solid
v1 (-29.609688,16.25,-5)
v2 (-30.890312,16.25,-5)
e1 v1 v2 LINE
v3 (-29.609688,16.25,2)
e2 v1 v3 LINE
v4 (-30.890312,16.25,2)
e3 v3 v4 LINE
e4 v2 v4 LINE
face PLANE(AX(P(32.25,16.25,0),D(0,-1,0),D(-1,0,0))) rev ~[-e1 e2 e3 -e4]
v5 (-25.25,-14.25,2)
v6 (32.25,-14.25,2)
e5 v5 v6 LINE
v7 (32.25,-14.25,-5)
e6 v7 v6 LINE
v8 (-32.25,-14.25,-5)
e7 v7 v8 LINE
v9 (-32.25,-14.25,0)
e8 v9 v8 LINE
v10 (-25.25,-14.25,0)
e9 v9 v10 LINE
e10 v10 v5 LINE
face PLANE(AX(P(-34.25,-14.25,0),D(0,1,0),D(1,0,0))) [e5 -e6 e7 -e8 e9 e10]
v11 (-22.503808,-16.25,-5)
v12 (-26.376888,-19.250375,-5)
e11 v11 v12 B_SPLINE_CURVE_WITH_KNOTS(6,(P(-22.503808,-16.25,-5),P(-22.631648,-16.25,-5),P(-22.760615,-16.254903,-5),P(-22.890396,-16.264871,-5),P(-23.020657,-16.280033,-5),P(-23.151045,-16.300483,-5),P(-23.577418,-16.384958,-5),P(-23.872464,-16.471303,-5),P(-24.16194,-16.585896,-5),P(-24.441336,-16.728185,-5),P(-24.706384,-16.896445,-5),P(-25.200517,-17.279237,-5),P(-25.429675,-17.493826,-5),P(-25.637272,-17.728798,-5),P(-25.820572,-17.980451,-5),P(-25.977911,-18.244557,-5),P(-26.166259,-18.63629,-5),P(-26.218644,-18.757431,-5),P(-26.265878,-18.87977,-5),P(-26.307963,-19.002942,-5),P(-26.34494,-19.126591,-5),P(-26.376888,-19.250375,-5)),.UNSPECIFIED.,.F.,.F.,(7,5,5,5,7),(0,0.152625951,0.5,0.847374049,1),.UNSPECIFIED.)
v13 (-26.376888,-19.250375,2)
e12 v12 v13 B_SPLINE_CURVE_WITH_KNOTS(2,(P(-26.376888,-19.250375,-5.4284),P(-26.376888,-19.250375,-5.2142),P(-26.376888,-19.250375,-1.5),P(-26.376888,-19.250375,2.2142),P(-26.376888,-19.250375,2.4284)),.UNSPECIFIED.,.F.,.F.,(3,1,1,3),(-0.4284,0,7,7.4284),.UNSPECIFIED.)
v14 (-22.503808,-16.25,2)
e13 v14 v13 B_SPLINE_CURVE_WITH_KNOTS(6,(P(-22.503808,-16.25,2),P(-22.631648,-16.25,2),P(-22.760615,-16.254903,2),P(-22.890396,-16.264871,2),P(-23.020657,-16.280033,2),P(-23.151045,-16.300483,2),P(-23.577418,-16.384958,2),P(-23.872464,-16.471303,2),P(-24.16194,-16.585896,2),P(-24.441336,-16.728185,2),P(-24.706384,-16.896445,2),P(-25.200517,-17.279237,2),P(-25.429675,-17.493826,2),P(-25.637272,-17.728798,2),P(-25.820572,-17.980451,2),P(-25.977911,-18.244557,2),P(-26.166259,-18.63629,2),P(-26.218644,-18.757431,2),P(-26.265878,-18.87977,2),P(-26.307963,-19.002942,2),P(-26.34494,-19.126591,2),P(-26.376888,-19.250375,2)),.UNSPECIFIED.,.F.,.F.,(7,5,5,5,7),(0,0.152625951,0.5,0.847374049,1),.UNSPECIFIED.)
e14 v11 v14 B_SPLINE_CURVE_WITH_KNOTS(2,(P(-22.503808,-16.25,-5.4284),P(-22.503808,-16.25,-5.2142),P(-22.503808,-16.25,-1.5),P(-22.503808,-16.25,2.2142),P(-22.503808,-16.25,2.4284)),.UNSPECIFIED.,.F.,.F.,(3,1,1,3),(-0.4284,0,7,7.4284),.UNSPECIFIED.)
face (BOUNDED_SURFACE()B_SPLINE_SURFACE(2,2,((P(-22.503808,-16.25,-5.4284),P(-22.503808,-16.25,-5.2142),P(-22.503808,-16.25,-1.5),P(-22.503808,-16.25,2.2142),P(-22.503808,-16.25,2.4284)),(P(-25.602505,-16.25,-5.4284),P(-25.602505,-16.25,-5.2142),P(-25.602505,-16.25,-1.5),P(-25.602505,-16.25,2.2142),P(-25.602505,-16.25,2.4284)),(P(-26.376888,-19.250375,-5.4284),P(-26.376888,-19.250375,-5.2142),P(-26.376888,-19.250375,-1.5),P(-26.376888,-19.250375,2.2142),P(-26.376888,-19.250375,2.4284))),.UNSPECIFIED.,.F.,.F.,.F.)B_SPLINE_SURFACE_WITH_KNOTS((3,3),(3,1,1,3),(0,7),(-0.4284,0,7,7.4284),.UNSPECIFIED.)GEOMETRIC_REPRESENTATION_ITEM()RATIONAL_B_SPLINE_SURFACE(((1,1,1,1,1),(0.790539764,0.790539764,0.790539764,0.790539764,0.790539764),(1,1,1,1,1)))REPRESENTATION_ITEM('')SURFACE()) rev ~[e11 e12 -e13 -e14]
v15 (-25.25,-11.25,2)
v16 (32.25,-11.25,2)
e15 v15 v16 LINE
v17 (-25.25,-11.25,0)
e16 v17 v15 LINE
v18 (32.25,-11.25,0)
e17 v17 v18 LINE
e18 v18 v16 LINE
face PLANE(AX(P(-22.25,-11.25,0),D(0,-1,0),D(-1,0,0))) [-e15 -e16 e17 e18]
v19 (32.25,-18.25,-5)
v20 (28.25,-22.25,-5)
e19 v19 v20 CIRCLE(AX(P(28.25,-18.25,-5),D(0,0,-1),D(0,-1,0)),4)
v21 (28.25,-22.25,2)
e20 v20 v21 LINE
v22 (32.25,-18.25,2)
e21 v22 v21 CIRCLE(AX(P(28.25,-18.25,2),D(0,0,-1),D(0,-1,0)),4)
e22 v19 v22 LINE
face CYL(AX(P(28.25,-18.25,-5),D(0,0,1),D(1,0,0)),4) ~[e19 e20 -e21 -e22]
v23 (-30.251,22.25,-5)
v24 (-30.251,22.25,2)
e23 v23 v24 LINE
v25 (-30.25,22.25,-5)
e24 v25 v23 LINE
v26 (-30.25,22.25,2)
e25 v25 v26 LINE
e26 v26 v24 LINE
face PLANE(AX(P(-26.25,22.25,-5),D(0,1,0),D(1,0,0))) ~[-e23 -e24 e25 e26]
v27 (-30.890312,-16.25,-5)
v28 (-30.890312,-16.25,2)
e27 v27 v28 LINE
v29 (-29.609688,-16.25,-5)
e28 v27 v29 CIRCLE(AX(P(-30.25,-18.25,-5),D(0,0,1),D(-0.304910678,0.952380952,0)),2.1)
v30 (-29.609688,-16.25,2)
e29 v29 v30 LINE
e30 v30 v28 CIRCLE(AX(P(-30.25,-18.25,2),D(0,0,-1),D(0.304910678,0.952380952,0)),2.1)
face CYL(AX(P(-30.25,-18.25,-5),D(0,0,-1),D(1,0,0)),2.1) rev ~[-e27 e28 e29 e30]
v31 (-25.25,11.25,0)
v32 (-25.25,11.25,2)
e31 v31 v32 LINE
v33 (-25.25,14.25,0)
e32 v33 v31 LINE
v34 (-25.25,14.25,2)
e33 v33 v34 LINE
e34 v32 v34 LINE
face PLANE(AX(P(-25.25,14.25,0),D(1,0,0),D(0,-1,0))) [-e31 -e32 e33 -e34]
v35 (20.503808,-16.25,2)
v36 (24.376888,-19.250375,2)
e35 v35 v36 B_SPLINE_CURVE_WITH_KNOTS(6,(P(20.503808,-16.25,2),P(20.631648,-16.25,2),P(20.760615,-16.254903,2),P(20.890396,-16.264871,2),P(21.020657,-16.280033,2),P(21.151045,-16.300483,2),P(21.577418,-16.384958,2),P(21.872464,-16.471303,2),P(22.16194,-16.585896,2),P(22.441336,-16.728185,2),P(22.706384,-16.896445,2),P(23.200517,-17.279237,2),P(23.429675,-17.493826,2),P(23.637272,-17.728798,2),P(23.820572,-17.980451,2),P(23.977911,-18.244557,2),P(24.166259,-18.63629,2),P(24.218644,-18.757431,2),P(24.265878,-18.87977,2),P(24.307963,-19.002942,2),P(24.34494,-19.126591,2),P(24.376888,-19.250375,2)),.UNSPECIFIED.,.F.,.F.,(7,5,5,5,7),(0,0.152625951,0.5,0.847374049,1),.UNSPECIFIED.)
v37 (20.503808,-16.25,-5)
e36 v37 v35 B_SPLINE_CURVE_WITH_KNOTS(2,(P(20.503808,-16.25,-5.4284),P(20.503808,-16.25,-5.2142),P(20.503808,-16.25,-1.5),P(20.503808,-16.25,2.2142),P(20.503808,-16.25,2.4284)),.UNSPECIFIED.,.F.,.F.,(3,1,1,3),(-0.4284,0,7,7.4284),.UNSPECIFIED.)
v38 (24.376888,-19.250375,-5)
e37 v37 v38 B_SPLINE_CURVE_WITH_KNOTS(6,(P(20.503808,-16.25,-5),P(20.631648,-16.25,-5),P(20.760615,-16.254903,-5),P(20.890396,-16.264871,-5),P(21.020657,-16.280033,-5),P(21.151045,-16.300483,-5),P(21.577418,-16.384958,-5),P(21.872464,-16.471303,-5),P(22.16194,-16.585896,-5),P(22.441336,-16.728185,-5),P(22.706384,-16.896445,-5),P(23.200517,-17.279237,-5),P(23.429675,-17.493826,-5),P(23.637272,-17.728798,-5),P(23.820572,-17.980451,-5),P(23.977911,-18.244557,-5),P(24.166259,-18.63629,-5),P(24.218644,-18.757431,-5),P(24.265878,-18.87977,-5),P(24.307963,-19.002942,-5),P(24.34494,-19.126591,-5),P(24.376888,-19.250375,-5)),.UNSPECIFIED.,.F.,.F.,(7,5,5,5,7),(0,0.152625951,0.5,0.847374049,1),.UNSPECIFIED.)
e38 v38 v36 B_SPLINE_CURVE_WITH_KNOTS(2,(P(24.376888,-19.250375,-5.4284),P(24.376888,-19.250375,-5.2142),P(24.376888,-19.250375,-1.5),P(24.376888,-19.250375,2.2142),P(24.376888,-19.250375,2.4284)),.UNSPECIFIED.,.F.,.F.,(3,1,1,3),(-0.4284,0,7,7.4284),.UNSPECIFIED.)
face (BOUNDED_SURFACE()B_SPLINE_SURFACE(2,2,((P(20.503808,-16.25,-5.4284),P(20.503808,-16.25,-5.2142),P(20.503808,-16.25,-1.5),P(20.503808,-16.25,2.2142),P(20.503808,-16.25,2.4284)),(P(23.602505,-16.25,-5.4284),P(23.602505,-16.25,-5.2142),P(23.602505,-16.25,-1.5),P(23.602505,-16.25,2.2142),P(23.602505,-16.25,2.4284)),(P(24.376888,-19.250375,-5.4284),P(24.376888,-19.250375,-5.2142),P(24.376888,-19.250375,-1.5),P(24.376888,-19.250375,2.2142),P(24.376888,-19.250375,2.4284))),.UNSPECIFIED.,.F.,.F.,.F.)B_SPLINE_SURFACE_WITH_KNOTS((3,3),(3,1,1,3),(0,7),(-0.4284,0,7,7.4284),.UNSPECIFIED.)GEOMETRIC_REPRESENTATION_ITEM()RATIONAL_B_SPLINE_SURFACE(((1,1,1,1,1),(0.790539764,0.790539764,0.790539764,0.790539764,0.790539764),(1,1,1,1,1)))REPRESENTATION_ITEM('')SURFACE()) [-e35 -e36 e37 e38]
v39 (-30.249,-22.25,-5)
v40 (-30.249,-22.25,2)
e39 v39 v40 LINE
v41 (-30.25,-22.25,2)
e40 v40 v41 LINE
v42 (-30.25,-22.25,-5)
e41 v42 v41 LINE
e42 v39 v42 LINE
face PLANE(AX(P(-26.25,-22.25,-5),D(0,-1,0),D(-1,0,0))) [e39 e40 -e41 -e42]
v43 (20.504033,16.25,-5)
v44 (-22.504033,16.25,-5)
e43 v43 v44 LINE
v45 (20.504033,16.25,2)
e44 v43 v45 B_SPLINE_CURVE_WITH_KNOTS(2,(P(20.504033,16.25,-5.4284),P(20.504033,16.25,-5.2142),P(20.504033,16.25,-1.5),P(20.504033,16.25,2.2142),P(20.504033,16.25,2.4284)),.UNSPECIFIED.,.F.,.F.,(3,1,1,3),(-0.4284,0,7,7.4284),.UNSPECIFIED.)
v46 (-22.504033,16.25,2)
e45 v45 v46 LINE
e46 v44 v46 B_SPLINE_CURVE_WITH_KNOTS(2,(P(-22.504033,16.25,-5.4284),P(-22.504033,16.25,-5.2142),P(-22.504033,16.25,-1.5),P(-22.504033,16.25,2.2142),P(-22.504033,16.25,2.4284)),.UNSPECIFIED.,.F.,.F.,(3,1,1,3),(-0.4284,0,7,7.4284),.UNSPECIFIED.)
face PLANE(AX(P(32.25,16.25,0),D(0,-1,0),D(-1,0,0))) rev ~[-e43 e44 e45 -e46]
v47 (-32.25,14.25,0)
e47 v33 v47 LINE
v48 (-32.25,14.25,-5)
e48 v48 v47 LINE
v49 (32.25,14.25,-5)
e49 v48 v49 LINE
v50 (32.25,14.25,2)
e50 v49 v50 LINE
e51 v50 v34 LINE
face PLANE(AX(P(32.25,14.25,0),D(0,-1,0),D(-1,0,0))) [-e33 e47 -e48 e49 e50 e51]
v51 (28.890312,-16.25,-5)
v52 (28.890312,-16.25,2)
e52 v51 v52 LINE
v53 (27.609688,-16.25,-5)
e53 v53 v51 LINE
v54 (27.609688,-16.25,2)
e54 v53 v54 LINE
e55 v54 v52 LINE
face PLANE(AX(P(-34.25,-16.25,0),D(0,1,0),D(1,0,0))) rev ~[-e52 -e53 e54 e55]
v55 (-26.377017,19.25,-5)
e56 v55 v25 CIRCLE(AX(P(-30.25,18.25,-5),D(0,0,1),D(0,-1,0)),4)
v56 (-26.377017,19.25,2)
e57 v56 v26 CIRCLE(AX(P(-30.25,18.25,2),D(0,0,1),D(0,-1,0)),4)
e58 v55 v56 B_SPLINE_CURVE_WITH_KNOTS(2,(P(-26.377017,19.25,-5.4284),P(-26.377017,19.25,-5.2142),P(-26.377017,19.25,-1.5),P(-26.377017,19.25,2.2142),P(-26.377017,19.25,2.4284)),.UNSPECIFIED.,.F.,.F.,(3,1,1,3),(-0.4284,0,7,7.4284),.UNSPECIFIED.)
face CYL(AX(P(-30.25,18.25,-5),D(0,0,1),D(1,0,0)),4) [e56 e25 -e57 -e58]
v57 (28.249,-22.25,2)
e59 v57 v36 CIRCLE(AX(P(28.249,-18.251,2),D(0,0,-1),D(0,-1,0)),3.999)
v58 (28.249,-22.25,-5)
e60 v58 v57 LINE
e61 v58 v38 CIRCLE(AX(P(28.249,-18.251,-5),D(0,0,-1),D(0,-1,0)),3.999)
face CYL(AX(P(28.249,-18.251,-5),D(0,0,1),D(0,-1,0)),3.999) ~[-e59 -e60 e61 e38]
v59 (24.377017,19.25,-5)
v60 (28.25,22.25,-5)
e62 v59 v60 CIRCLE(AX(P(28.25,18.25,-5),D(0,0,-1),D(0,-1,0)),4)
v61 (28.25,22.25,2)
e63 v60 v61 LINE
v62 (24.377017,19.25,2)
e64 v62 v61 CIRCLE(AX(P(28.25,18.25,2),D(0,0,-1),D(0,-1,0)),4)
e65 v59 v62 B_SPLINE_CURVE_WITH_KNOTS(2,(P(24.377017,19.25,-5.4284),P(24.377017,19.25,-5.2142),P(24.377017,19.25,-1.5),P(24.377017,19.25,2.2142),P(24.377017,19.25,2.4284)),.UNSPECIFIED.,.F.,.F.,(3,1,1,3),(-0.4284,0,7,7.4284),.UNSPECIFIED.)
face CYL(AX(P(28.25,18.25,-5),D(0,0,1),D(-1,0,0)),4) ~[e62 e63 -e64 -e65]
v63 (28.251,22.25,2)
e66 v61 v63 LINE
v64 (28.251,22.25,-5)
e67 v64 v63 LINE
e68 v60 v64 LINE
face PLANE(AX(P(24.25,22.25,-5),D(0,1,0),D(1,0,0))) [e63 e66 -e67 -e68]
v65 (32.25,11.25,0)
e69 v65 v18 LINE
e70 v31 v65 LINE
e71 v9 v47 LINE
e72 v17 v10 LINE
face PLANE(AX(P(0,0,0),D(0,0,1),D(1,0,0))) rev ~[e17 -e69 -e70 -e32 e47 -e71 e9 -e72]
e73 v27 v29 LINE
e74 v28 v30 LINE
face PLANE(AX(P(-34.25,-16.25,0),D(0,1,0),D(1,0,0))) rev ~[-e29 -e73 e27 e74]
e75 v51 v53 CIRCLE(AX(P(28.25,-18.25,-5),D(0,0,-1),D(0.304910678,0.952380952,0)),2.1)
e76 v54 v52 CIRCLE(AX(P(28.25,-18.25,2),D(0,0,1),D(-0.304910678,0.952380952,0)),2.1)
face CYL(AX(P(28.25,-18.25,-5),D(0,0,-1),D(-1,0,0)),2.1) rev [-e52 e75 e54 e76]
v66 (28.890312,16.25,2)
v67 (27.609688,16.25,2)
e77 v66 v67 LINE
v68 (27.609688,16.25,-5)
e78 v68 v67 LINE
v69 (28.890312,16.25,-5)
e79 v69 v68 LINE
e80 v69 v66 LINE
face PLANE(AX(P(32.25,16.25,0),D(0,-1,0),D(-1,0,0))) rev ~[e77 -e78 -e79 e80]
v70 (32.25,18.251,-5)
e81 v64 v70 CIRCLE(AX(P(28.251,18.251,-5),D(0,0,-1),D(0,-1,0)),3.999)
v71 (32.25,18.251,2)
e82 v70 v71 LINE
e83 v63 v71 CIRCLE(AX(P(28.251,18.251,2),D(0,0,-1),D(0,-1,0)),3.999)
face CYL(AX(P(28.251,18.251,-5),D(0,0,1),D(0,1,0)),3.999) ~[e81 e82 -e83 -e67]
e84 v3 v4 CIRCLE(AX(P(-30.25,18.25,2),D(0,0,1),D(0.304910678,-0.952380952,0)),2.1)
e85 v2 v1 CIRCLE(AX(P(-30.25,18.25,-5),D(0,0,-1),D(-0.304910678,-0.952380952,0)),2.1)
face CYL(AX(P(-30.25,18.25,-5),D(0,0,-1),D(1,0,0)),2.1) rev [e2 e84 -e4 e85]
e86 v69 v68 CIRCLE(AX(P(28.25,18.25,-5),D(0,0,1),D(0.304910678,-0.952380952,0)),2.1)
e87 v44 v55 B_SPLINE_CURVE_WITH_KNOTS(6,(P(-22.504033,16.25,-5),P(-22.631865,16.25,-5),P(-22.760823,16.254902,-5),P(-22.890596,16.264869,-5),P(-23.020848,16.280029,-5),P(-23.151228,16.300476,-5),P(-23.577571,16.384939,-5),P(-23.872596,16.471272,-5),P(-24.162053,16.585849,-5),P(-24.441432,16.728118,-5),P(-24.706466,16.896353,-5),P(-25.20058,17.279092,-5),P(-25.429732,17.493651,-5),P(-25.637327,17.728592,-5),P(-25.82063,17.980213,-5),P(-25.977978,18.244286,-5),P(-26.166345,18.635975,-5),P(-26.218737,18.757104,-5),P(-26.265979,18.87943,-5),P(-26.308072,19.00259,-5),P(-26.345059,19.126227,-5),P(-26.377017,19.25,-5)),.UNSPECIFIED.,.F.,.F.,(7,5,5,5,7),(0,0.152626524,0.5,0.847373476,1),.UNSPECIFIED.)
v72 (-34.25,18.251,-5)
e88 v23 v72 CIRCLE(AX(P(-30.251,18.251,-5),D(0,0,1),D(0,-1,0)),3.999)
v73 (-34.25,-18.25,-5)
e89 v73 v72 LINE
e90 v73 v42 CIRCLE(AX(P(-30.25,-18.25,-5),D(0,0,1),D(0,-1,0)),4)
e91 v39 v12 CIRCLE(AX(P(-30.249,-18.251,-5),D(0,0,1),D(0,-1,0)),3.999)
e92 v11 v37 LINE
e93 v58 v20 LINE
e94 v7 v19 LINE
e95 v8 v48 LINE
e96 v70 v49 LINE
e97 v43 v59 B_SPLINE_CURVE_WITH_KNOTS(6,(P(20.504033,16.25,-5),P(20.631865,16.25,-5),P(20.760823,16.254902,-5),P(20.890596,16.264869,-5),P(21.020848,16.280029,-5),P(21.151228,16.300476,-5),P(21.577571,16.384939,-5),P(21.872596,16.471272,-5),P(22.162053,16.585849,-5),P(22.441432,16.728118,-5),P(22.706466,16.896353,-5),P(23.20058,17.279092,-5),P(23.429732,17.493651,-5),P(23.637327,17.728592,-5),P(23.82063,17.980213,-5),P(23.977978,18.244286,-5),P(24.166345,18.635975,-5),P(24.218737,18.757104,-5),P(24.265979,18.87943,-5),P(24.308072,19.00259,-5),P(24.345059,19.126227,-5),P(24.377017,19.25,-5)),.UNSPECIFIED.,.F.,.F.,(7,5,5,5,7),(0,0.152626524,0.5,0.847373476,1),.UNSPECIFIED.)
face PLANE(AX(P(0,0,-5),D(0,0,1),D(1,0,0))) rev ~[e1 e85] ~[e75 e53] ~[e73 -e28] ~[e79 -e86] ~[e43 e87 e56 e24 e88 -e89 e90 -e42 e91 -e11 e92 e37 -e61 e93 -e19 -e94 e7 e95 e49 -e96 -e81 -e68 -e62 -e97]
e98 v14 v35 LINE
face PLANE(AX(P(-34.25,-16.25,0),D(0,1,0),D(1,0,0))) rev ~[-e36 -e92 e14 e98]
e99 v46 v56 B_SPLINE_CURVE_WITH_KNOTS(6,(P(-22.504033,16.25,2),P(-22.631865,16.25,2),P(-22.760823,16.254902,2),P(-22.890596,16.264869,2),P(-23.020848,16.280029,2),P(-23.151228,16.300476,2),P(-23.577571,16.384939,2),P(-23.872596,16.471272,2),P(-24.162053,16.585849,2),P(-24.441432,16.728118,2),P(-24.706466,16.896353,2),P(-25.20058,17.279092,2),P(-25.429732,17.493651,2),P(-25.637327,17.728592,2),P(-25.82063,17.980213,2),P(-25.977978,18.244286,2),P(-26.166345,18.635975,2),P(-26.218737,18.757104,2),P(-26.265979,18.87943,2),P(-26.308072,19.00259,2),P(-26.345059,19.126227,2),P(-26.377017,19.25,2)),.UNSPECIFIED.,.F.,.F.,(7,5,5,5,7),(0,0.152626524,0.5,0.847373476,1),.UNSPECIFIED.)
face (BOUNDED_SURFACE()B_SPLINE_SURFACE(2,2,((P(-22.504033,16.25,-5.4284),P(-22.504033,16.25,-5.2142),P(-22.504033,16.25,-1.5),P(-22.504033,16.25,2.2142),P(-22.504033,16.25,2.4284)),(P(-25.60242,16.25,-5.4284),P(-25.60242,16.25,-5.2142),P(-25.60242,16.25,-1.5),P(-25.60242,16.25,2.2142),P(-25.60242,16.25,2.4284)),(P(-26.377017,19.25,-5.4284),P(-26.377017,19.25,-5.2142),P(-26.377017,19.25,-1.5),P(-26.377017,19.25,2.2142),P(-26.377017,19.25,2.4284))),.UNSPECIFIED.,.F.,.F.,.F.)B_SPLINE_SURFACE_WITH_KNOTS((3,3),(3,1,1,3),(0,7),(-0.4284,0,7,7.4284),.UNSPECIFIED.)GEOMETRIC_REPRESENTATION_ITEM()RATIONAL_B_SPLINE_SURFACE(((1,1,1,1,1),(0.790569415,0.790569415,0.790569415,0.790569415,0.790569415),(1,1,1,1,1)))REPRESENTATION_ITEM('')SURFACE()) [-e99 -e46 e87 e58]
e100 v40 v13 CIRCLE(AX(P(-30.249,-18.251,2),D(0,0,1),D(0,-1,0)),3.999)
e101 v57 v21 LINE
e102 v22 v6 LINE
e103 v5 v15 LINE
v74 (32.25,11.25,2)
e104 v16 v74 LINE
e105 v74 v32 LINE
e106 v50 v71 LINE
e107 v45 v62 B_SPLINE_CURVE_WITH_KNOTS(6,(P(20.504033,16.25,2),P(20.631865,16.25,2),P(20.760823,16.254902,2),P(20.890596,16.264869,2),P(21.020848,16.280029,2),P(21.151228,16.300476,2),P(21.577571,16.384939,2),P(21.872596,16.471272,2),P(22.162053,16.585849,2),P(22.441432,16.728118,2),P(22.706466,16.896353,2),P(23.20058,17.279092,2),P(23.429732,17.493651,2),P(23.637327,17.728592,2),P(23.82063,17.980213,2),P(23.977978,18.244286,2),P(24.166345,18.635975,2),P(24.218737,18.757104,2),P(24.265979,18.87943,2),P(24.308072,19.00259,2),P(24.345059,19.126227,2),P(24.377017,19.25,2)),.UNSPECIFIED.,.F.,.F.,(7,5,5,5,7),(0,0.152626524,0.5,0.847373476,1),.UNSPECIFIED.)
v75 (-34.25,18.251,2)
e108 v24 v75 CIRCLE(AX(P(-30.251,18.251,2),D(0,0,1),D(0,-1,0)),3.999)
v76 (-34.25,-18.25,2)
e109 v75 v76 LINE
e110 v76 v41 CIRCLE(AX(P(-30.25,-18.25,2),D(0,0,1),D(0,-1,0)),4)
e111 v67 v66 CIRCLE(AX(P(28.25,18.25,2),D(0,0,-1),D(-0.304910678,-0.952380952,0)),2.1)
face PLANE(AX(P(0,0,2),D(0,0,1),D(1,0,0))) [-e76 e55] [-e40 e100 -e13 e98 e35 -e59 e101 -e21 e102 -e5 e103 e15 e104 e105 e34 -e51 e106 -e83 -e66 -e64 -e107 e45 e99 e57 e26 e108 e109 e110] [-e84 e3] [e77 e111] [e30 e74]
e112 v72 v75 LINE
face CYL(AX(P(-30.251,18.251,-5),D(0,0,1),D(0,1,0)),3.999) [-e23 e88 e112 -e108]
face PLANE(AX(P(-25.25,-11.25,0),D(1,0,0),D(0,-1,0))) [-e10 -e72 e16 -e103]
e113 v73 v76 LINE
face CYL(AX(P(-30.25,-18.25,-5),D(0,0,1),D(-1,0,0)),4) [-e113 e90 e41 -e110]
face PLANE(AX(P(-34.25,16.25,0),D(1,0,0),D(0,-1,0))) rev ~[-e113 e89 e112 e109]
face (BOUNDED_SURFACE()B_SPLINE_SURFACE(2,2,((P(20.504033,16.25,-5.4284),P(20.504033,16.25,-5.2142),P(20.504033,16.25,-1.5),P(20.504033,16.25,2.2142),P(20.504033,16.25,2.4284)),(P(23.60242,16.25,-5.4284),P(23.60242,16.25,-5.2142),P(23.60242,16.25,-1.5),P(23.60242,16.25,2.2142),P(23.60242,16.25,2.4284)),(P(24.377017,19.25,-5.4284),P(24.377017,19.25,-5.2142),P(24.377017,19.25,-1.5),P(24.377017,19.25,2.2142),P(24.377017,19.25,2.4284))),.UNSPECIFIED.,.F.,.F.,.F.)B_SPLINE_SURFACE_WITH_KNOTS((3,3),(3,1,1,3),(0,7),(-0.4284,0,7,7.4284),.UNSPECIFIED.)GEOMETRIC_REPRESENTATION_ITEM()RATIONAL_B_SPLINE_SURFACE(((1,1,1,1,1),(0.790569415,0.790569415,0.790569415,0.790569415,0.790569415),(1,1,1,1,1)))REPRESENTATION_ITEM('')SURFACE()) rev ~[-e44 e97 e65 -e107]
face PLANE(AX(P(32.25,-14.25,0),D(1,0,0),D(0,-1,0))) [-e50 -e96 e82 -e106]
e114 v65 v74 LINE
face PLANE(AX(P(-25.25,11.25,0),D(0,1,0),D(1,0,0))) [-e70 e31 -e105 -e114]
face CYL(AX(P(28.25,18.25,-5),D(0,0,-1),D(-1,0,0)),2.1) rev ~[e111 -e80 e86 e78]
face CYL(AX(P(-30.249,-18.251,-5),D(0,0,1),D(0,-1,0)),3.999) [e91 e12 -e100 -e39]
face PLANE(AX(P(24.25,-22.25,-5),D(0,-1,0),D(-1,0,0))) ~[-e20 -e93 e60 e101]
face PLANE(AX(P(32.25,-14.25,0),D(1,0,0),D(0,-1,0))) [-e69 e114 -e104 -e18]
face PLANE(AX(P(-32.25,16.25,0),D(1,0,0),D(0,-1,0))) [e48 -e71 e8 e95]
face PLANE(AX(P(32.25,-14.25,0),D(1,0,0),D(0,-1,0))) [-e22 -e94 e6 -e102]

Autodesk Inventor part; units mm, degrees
ref_plane "YZ Plane" through (0, 0, 0) normal (1, 0, 0) x (0, 1, 0)
ref_plane "XZ Plane" through (0, 0, 0) normal (0, 1, 0) x (-1, 0, 0)
ref_plane "XY Plane" through (0, 0, 0) normal (0, 0, 1) x (1, 0, 0)
sketch "Boceto1" plane through (0, 0, 0) normal (0, 0, 1) x (1, 0, 0)
  line L0 (-32.25, -14.25) -> (-32.25, 14.25) projected
  line L1 (-32.25, 14.25) -> (32.25, 14.25) projected
  line L2 (32.25, 14.25) -> (32.25, -14.25) projected
  line L3 (32.25, -14.25) -> (-32.25, -14.25) projected
  line L4 (34.25, 16.25) -> (-34.25, 16.25)
  line L5 (-34.25, 16.25) -> (-34.25, -16.25)
  line L6 (-34.25, -16.25) -> (34.25, -16.25)
  line L7 (34.25, -16.25) -> (34.25, 16.25)
  line L8 (32.25, -14.25) -> (32.25, -16.25)
  line L9 (32.25, 14.25) -> (32.25, 16.25)
  point P0 (0, 0)
  dimension "d0" = 2
extrude "Extrusión1" add sketch "Boceto1" along normal blind 2 and the other way blind 5 contours L3 L8 L6 L5 L4 L9 L1 L0 | L0 L1 L2 L3
shell "Vaciado1" thickness 2 removed faces 2 at (32.25, 5.4167, -0.3333) at (-12.0833, 5.4167, -5)
sketch "Boceto2" plane through (0, 0, -5) normal (0, 0, -1) x (-1, 0, 0)
  line L0 (-32.25, 14.25) -> (32.25, 14.25) projected
  line L1 (32.25, 14.25) -> (32.25, -14.25) projected
  line L2 (32.25, -14.25) -> (-32.25, -14.25) projected
  line L3 (-32.25, -14.25) -> (-32.25, -16.25) projected
  line L4 (-32.25, -16.25) -> (34.25, -16.25) projected
  line L5 (34.25, -16.25) -> (34.25, 16.25) projected
  line L6 (34.25, 16.25) -> (-32.25, 16.25) projected
  line L7 (-32.25, 16.25) -> (-32.25, 14.25) projected
  line L8 (-32.25, 16.25) -> (-24.25, 16.25)
  line L9 (-24.25, 16.25) -> (-24.25, 22.25)
  line L10 (-24.25, 22.25) -> (-32.25, 22.25)
  line L11 (-32.25, 22.25) -> (-32.25, 16.25)
  line L12 (-24.25, 22.25) -> (-32.25, 14.25)
  circle A0 centre (-28.25, 18.25) radius 2.1
  point P0 (0, 0)
  point P1 (-30.25, 16.25)
  point P2 (-29.7349, 16.7651)
  point P3 (-27.6097, 16.25)
  point P4 (-28.8903, 16.25)
  dimension "d6" = 8
  dimension "d7" = 6
  dimension "d8" = 4.2
extrude "Extrusión2" add sketch "Boceto2" against normal up to surface (7 mm away) contours L11 L10 L12 A0 L6 | L12 A0 L6 | L9 L6 A0 L12 picked at (-29.8223, 16.5215)
mirror "Simetría1" about plane through (0, 0, 0) normal (0, 1, 0) of "Extrusión2"
ref_plane "Plano de trabajo1" through (-1, -14.25, 0) normal (1, 0, 0) x (0, 0, -1)
mirror "Simetría2" about plane through (-1, -14.25, 0) normal (1, 0, 0) of "Extrusión2", "Simetría1"
fillet "Empalme1" radius 4 12 edges at (-26.25, 22.25, -1.5) (-34.25, 22.25, -1.5) (-34.25, -22.25, -1.5) (-26.25, -22.25, -1.5) (24.25, 22.25, -1.5) (32.25, 22.25, -1.5) (32.25, -22.25, -1.5) (24.25, -22.25, -1.5) (-26.25, 16.25, -1.5) (24.25, 16.25, -1.5) (24.25, -16.25, -1.5) (-26.25, -16.25, -1.5)
sketch "Boceto3" plane through (32.25, -14.25, 0) normal (0, 0, -1) x (-1, 0, 0)
  line L0 (64.5, 0) -> (64.5, 28.5) projected
  line L1 (64.5, 28.5) -> (0, 28.5) projected
  line L2 (0, 28.5) -> (0, 0) projected
  line L3 (0, 0) -> (64.5, 0) projected
  line L4 (64.5, 0) -> (0, 0) projected
  line L5 (0, 28.5) -> (57.5, 28.5)
  line L6 (57.5, 28.5) -> (57.5, 0)
  line L7 (57.5, 0) -> (0, 0)
  line L8 (0, 0) -> (0, 28.5)
  line L9 (54.5, 3) -> (54.5, 25.5)
  line L10 (57.5, 25.5) -> (0, 25.5)
  line L11 (3, 28.5) -> (3, 0)
  line L12 (0, 3) -> (57.5, 3)
  line L13 (2.55, 28.5) -> (2.55, 0)
  point P0 (32.25, 14.25)
  point P1 (57.5, 0)
  point P2 (2.55, 3)
  point P3 (2.55, 0)
  point P4 (2.55, 28.5)
  point P5 (2.55, 25.5)
  dimension "d12" = 57.5
  dimension "d13" = 3
  dimension "d16" = 0.45
extrude "Extrusión3" cut sketch "Boceto3" against normal blind 10 contours L3 L11 L12 L6 | L6 L10 L11 L1 | L3 L13 L12 L11 | L11 L10 L13 L1 | L3 L2 L12 L13 | L13 L10 L2 L1
properties part number "Soporte_ESP32S3"
